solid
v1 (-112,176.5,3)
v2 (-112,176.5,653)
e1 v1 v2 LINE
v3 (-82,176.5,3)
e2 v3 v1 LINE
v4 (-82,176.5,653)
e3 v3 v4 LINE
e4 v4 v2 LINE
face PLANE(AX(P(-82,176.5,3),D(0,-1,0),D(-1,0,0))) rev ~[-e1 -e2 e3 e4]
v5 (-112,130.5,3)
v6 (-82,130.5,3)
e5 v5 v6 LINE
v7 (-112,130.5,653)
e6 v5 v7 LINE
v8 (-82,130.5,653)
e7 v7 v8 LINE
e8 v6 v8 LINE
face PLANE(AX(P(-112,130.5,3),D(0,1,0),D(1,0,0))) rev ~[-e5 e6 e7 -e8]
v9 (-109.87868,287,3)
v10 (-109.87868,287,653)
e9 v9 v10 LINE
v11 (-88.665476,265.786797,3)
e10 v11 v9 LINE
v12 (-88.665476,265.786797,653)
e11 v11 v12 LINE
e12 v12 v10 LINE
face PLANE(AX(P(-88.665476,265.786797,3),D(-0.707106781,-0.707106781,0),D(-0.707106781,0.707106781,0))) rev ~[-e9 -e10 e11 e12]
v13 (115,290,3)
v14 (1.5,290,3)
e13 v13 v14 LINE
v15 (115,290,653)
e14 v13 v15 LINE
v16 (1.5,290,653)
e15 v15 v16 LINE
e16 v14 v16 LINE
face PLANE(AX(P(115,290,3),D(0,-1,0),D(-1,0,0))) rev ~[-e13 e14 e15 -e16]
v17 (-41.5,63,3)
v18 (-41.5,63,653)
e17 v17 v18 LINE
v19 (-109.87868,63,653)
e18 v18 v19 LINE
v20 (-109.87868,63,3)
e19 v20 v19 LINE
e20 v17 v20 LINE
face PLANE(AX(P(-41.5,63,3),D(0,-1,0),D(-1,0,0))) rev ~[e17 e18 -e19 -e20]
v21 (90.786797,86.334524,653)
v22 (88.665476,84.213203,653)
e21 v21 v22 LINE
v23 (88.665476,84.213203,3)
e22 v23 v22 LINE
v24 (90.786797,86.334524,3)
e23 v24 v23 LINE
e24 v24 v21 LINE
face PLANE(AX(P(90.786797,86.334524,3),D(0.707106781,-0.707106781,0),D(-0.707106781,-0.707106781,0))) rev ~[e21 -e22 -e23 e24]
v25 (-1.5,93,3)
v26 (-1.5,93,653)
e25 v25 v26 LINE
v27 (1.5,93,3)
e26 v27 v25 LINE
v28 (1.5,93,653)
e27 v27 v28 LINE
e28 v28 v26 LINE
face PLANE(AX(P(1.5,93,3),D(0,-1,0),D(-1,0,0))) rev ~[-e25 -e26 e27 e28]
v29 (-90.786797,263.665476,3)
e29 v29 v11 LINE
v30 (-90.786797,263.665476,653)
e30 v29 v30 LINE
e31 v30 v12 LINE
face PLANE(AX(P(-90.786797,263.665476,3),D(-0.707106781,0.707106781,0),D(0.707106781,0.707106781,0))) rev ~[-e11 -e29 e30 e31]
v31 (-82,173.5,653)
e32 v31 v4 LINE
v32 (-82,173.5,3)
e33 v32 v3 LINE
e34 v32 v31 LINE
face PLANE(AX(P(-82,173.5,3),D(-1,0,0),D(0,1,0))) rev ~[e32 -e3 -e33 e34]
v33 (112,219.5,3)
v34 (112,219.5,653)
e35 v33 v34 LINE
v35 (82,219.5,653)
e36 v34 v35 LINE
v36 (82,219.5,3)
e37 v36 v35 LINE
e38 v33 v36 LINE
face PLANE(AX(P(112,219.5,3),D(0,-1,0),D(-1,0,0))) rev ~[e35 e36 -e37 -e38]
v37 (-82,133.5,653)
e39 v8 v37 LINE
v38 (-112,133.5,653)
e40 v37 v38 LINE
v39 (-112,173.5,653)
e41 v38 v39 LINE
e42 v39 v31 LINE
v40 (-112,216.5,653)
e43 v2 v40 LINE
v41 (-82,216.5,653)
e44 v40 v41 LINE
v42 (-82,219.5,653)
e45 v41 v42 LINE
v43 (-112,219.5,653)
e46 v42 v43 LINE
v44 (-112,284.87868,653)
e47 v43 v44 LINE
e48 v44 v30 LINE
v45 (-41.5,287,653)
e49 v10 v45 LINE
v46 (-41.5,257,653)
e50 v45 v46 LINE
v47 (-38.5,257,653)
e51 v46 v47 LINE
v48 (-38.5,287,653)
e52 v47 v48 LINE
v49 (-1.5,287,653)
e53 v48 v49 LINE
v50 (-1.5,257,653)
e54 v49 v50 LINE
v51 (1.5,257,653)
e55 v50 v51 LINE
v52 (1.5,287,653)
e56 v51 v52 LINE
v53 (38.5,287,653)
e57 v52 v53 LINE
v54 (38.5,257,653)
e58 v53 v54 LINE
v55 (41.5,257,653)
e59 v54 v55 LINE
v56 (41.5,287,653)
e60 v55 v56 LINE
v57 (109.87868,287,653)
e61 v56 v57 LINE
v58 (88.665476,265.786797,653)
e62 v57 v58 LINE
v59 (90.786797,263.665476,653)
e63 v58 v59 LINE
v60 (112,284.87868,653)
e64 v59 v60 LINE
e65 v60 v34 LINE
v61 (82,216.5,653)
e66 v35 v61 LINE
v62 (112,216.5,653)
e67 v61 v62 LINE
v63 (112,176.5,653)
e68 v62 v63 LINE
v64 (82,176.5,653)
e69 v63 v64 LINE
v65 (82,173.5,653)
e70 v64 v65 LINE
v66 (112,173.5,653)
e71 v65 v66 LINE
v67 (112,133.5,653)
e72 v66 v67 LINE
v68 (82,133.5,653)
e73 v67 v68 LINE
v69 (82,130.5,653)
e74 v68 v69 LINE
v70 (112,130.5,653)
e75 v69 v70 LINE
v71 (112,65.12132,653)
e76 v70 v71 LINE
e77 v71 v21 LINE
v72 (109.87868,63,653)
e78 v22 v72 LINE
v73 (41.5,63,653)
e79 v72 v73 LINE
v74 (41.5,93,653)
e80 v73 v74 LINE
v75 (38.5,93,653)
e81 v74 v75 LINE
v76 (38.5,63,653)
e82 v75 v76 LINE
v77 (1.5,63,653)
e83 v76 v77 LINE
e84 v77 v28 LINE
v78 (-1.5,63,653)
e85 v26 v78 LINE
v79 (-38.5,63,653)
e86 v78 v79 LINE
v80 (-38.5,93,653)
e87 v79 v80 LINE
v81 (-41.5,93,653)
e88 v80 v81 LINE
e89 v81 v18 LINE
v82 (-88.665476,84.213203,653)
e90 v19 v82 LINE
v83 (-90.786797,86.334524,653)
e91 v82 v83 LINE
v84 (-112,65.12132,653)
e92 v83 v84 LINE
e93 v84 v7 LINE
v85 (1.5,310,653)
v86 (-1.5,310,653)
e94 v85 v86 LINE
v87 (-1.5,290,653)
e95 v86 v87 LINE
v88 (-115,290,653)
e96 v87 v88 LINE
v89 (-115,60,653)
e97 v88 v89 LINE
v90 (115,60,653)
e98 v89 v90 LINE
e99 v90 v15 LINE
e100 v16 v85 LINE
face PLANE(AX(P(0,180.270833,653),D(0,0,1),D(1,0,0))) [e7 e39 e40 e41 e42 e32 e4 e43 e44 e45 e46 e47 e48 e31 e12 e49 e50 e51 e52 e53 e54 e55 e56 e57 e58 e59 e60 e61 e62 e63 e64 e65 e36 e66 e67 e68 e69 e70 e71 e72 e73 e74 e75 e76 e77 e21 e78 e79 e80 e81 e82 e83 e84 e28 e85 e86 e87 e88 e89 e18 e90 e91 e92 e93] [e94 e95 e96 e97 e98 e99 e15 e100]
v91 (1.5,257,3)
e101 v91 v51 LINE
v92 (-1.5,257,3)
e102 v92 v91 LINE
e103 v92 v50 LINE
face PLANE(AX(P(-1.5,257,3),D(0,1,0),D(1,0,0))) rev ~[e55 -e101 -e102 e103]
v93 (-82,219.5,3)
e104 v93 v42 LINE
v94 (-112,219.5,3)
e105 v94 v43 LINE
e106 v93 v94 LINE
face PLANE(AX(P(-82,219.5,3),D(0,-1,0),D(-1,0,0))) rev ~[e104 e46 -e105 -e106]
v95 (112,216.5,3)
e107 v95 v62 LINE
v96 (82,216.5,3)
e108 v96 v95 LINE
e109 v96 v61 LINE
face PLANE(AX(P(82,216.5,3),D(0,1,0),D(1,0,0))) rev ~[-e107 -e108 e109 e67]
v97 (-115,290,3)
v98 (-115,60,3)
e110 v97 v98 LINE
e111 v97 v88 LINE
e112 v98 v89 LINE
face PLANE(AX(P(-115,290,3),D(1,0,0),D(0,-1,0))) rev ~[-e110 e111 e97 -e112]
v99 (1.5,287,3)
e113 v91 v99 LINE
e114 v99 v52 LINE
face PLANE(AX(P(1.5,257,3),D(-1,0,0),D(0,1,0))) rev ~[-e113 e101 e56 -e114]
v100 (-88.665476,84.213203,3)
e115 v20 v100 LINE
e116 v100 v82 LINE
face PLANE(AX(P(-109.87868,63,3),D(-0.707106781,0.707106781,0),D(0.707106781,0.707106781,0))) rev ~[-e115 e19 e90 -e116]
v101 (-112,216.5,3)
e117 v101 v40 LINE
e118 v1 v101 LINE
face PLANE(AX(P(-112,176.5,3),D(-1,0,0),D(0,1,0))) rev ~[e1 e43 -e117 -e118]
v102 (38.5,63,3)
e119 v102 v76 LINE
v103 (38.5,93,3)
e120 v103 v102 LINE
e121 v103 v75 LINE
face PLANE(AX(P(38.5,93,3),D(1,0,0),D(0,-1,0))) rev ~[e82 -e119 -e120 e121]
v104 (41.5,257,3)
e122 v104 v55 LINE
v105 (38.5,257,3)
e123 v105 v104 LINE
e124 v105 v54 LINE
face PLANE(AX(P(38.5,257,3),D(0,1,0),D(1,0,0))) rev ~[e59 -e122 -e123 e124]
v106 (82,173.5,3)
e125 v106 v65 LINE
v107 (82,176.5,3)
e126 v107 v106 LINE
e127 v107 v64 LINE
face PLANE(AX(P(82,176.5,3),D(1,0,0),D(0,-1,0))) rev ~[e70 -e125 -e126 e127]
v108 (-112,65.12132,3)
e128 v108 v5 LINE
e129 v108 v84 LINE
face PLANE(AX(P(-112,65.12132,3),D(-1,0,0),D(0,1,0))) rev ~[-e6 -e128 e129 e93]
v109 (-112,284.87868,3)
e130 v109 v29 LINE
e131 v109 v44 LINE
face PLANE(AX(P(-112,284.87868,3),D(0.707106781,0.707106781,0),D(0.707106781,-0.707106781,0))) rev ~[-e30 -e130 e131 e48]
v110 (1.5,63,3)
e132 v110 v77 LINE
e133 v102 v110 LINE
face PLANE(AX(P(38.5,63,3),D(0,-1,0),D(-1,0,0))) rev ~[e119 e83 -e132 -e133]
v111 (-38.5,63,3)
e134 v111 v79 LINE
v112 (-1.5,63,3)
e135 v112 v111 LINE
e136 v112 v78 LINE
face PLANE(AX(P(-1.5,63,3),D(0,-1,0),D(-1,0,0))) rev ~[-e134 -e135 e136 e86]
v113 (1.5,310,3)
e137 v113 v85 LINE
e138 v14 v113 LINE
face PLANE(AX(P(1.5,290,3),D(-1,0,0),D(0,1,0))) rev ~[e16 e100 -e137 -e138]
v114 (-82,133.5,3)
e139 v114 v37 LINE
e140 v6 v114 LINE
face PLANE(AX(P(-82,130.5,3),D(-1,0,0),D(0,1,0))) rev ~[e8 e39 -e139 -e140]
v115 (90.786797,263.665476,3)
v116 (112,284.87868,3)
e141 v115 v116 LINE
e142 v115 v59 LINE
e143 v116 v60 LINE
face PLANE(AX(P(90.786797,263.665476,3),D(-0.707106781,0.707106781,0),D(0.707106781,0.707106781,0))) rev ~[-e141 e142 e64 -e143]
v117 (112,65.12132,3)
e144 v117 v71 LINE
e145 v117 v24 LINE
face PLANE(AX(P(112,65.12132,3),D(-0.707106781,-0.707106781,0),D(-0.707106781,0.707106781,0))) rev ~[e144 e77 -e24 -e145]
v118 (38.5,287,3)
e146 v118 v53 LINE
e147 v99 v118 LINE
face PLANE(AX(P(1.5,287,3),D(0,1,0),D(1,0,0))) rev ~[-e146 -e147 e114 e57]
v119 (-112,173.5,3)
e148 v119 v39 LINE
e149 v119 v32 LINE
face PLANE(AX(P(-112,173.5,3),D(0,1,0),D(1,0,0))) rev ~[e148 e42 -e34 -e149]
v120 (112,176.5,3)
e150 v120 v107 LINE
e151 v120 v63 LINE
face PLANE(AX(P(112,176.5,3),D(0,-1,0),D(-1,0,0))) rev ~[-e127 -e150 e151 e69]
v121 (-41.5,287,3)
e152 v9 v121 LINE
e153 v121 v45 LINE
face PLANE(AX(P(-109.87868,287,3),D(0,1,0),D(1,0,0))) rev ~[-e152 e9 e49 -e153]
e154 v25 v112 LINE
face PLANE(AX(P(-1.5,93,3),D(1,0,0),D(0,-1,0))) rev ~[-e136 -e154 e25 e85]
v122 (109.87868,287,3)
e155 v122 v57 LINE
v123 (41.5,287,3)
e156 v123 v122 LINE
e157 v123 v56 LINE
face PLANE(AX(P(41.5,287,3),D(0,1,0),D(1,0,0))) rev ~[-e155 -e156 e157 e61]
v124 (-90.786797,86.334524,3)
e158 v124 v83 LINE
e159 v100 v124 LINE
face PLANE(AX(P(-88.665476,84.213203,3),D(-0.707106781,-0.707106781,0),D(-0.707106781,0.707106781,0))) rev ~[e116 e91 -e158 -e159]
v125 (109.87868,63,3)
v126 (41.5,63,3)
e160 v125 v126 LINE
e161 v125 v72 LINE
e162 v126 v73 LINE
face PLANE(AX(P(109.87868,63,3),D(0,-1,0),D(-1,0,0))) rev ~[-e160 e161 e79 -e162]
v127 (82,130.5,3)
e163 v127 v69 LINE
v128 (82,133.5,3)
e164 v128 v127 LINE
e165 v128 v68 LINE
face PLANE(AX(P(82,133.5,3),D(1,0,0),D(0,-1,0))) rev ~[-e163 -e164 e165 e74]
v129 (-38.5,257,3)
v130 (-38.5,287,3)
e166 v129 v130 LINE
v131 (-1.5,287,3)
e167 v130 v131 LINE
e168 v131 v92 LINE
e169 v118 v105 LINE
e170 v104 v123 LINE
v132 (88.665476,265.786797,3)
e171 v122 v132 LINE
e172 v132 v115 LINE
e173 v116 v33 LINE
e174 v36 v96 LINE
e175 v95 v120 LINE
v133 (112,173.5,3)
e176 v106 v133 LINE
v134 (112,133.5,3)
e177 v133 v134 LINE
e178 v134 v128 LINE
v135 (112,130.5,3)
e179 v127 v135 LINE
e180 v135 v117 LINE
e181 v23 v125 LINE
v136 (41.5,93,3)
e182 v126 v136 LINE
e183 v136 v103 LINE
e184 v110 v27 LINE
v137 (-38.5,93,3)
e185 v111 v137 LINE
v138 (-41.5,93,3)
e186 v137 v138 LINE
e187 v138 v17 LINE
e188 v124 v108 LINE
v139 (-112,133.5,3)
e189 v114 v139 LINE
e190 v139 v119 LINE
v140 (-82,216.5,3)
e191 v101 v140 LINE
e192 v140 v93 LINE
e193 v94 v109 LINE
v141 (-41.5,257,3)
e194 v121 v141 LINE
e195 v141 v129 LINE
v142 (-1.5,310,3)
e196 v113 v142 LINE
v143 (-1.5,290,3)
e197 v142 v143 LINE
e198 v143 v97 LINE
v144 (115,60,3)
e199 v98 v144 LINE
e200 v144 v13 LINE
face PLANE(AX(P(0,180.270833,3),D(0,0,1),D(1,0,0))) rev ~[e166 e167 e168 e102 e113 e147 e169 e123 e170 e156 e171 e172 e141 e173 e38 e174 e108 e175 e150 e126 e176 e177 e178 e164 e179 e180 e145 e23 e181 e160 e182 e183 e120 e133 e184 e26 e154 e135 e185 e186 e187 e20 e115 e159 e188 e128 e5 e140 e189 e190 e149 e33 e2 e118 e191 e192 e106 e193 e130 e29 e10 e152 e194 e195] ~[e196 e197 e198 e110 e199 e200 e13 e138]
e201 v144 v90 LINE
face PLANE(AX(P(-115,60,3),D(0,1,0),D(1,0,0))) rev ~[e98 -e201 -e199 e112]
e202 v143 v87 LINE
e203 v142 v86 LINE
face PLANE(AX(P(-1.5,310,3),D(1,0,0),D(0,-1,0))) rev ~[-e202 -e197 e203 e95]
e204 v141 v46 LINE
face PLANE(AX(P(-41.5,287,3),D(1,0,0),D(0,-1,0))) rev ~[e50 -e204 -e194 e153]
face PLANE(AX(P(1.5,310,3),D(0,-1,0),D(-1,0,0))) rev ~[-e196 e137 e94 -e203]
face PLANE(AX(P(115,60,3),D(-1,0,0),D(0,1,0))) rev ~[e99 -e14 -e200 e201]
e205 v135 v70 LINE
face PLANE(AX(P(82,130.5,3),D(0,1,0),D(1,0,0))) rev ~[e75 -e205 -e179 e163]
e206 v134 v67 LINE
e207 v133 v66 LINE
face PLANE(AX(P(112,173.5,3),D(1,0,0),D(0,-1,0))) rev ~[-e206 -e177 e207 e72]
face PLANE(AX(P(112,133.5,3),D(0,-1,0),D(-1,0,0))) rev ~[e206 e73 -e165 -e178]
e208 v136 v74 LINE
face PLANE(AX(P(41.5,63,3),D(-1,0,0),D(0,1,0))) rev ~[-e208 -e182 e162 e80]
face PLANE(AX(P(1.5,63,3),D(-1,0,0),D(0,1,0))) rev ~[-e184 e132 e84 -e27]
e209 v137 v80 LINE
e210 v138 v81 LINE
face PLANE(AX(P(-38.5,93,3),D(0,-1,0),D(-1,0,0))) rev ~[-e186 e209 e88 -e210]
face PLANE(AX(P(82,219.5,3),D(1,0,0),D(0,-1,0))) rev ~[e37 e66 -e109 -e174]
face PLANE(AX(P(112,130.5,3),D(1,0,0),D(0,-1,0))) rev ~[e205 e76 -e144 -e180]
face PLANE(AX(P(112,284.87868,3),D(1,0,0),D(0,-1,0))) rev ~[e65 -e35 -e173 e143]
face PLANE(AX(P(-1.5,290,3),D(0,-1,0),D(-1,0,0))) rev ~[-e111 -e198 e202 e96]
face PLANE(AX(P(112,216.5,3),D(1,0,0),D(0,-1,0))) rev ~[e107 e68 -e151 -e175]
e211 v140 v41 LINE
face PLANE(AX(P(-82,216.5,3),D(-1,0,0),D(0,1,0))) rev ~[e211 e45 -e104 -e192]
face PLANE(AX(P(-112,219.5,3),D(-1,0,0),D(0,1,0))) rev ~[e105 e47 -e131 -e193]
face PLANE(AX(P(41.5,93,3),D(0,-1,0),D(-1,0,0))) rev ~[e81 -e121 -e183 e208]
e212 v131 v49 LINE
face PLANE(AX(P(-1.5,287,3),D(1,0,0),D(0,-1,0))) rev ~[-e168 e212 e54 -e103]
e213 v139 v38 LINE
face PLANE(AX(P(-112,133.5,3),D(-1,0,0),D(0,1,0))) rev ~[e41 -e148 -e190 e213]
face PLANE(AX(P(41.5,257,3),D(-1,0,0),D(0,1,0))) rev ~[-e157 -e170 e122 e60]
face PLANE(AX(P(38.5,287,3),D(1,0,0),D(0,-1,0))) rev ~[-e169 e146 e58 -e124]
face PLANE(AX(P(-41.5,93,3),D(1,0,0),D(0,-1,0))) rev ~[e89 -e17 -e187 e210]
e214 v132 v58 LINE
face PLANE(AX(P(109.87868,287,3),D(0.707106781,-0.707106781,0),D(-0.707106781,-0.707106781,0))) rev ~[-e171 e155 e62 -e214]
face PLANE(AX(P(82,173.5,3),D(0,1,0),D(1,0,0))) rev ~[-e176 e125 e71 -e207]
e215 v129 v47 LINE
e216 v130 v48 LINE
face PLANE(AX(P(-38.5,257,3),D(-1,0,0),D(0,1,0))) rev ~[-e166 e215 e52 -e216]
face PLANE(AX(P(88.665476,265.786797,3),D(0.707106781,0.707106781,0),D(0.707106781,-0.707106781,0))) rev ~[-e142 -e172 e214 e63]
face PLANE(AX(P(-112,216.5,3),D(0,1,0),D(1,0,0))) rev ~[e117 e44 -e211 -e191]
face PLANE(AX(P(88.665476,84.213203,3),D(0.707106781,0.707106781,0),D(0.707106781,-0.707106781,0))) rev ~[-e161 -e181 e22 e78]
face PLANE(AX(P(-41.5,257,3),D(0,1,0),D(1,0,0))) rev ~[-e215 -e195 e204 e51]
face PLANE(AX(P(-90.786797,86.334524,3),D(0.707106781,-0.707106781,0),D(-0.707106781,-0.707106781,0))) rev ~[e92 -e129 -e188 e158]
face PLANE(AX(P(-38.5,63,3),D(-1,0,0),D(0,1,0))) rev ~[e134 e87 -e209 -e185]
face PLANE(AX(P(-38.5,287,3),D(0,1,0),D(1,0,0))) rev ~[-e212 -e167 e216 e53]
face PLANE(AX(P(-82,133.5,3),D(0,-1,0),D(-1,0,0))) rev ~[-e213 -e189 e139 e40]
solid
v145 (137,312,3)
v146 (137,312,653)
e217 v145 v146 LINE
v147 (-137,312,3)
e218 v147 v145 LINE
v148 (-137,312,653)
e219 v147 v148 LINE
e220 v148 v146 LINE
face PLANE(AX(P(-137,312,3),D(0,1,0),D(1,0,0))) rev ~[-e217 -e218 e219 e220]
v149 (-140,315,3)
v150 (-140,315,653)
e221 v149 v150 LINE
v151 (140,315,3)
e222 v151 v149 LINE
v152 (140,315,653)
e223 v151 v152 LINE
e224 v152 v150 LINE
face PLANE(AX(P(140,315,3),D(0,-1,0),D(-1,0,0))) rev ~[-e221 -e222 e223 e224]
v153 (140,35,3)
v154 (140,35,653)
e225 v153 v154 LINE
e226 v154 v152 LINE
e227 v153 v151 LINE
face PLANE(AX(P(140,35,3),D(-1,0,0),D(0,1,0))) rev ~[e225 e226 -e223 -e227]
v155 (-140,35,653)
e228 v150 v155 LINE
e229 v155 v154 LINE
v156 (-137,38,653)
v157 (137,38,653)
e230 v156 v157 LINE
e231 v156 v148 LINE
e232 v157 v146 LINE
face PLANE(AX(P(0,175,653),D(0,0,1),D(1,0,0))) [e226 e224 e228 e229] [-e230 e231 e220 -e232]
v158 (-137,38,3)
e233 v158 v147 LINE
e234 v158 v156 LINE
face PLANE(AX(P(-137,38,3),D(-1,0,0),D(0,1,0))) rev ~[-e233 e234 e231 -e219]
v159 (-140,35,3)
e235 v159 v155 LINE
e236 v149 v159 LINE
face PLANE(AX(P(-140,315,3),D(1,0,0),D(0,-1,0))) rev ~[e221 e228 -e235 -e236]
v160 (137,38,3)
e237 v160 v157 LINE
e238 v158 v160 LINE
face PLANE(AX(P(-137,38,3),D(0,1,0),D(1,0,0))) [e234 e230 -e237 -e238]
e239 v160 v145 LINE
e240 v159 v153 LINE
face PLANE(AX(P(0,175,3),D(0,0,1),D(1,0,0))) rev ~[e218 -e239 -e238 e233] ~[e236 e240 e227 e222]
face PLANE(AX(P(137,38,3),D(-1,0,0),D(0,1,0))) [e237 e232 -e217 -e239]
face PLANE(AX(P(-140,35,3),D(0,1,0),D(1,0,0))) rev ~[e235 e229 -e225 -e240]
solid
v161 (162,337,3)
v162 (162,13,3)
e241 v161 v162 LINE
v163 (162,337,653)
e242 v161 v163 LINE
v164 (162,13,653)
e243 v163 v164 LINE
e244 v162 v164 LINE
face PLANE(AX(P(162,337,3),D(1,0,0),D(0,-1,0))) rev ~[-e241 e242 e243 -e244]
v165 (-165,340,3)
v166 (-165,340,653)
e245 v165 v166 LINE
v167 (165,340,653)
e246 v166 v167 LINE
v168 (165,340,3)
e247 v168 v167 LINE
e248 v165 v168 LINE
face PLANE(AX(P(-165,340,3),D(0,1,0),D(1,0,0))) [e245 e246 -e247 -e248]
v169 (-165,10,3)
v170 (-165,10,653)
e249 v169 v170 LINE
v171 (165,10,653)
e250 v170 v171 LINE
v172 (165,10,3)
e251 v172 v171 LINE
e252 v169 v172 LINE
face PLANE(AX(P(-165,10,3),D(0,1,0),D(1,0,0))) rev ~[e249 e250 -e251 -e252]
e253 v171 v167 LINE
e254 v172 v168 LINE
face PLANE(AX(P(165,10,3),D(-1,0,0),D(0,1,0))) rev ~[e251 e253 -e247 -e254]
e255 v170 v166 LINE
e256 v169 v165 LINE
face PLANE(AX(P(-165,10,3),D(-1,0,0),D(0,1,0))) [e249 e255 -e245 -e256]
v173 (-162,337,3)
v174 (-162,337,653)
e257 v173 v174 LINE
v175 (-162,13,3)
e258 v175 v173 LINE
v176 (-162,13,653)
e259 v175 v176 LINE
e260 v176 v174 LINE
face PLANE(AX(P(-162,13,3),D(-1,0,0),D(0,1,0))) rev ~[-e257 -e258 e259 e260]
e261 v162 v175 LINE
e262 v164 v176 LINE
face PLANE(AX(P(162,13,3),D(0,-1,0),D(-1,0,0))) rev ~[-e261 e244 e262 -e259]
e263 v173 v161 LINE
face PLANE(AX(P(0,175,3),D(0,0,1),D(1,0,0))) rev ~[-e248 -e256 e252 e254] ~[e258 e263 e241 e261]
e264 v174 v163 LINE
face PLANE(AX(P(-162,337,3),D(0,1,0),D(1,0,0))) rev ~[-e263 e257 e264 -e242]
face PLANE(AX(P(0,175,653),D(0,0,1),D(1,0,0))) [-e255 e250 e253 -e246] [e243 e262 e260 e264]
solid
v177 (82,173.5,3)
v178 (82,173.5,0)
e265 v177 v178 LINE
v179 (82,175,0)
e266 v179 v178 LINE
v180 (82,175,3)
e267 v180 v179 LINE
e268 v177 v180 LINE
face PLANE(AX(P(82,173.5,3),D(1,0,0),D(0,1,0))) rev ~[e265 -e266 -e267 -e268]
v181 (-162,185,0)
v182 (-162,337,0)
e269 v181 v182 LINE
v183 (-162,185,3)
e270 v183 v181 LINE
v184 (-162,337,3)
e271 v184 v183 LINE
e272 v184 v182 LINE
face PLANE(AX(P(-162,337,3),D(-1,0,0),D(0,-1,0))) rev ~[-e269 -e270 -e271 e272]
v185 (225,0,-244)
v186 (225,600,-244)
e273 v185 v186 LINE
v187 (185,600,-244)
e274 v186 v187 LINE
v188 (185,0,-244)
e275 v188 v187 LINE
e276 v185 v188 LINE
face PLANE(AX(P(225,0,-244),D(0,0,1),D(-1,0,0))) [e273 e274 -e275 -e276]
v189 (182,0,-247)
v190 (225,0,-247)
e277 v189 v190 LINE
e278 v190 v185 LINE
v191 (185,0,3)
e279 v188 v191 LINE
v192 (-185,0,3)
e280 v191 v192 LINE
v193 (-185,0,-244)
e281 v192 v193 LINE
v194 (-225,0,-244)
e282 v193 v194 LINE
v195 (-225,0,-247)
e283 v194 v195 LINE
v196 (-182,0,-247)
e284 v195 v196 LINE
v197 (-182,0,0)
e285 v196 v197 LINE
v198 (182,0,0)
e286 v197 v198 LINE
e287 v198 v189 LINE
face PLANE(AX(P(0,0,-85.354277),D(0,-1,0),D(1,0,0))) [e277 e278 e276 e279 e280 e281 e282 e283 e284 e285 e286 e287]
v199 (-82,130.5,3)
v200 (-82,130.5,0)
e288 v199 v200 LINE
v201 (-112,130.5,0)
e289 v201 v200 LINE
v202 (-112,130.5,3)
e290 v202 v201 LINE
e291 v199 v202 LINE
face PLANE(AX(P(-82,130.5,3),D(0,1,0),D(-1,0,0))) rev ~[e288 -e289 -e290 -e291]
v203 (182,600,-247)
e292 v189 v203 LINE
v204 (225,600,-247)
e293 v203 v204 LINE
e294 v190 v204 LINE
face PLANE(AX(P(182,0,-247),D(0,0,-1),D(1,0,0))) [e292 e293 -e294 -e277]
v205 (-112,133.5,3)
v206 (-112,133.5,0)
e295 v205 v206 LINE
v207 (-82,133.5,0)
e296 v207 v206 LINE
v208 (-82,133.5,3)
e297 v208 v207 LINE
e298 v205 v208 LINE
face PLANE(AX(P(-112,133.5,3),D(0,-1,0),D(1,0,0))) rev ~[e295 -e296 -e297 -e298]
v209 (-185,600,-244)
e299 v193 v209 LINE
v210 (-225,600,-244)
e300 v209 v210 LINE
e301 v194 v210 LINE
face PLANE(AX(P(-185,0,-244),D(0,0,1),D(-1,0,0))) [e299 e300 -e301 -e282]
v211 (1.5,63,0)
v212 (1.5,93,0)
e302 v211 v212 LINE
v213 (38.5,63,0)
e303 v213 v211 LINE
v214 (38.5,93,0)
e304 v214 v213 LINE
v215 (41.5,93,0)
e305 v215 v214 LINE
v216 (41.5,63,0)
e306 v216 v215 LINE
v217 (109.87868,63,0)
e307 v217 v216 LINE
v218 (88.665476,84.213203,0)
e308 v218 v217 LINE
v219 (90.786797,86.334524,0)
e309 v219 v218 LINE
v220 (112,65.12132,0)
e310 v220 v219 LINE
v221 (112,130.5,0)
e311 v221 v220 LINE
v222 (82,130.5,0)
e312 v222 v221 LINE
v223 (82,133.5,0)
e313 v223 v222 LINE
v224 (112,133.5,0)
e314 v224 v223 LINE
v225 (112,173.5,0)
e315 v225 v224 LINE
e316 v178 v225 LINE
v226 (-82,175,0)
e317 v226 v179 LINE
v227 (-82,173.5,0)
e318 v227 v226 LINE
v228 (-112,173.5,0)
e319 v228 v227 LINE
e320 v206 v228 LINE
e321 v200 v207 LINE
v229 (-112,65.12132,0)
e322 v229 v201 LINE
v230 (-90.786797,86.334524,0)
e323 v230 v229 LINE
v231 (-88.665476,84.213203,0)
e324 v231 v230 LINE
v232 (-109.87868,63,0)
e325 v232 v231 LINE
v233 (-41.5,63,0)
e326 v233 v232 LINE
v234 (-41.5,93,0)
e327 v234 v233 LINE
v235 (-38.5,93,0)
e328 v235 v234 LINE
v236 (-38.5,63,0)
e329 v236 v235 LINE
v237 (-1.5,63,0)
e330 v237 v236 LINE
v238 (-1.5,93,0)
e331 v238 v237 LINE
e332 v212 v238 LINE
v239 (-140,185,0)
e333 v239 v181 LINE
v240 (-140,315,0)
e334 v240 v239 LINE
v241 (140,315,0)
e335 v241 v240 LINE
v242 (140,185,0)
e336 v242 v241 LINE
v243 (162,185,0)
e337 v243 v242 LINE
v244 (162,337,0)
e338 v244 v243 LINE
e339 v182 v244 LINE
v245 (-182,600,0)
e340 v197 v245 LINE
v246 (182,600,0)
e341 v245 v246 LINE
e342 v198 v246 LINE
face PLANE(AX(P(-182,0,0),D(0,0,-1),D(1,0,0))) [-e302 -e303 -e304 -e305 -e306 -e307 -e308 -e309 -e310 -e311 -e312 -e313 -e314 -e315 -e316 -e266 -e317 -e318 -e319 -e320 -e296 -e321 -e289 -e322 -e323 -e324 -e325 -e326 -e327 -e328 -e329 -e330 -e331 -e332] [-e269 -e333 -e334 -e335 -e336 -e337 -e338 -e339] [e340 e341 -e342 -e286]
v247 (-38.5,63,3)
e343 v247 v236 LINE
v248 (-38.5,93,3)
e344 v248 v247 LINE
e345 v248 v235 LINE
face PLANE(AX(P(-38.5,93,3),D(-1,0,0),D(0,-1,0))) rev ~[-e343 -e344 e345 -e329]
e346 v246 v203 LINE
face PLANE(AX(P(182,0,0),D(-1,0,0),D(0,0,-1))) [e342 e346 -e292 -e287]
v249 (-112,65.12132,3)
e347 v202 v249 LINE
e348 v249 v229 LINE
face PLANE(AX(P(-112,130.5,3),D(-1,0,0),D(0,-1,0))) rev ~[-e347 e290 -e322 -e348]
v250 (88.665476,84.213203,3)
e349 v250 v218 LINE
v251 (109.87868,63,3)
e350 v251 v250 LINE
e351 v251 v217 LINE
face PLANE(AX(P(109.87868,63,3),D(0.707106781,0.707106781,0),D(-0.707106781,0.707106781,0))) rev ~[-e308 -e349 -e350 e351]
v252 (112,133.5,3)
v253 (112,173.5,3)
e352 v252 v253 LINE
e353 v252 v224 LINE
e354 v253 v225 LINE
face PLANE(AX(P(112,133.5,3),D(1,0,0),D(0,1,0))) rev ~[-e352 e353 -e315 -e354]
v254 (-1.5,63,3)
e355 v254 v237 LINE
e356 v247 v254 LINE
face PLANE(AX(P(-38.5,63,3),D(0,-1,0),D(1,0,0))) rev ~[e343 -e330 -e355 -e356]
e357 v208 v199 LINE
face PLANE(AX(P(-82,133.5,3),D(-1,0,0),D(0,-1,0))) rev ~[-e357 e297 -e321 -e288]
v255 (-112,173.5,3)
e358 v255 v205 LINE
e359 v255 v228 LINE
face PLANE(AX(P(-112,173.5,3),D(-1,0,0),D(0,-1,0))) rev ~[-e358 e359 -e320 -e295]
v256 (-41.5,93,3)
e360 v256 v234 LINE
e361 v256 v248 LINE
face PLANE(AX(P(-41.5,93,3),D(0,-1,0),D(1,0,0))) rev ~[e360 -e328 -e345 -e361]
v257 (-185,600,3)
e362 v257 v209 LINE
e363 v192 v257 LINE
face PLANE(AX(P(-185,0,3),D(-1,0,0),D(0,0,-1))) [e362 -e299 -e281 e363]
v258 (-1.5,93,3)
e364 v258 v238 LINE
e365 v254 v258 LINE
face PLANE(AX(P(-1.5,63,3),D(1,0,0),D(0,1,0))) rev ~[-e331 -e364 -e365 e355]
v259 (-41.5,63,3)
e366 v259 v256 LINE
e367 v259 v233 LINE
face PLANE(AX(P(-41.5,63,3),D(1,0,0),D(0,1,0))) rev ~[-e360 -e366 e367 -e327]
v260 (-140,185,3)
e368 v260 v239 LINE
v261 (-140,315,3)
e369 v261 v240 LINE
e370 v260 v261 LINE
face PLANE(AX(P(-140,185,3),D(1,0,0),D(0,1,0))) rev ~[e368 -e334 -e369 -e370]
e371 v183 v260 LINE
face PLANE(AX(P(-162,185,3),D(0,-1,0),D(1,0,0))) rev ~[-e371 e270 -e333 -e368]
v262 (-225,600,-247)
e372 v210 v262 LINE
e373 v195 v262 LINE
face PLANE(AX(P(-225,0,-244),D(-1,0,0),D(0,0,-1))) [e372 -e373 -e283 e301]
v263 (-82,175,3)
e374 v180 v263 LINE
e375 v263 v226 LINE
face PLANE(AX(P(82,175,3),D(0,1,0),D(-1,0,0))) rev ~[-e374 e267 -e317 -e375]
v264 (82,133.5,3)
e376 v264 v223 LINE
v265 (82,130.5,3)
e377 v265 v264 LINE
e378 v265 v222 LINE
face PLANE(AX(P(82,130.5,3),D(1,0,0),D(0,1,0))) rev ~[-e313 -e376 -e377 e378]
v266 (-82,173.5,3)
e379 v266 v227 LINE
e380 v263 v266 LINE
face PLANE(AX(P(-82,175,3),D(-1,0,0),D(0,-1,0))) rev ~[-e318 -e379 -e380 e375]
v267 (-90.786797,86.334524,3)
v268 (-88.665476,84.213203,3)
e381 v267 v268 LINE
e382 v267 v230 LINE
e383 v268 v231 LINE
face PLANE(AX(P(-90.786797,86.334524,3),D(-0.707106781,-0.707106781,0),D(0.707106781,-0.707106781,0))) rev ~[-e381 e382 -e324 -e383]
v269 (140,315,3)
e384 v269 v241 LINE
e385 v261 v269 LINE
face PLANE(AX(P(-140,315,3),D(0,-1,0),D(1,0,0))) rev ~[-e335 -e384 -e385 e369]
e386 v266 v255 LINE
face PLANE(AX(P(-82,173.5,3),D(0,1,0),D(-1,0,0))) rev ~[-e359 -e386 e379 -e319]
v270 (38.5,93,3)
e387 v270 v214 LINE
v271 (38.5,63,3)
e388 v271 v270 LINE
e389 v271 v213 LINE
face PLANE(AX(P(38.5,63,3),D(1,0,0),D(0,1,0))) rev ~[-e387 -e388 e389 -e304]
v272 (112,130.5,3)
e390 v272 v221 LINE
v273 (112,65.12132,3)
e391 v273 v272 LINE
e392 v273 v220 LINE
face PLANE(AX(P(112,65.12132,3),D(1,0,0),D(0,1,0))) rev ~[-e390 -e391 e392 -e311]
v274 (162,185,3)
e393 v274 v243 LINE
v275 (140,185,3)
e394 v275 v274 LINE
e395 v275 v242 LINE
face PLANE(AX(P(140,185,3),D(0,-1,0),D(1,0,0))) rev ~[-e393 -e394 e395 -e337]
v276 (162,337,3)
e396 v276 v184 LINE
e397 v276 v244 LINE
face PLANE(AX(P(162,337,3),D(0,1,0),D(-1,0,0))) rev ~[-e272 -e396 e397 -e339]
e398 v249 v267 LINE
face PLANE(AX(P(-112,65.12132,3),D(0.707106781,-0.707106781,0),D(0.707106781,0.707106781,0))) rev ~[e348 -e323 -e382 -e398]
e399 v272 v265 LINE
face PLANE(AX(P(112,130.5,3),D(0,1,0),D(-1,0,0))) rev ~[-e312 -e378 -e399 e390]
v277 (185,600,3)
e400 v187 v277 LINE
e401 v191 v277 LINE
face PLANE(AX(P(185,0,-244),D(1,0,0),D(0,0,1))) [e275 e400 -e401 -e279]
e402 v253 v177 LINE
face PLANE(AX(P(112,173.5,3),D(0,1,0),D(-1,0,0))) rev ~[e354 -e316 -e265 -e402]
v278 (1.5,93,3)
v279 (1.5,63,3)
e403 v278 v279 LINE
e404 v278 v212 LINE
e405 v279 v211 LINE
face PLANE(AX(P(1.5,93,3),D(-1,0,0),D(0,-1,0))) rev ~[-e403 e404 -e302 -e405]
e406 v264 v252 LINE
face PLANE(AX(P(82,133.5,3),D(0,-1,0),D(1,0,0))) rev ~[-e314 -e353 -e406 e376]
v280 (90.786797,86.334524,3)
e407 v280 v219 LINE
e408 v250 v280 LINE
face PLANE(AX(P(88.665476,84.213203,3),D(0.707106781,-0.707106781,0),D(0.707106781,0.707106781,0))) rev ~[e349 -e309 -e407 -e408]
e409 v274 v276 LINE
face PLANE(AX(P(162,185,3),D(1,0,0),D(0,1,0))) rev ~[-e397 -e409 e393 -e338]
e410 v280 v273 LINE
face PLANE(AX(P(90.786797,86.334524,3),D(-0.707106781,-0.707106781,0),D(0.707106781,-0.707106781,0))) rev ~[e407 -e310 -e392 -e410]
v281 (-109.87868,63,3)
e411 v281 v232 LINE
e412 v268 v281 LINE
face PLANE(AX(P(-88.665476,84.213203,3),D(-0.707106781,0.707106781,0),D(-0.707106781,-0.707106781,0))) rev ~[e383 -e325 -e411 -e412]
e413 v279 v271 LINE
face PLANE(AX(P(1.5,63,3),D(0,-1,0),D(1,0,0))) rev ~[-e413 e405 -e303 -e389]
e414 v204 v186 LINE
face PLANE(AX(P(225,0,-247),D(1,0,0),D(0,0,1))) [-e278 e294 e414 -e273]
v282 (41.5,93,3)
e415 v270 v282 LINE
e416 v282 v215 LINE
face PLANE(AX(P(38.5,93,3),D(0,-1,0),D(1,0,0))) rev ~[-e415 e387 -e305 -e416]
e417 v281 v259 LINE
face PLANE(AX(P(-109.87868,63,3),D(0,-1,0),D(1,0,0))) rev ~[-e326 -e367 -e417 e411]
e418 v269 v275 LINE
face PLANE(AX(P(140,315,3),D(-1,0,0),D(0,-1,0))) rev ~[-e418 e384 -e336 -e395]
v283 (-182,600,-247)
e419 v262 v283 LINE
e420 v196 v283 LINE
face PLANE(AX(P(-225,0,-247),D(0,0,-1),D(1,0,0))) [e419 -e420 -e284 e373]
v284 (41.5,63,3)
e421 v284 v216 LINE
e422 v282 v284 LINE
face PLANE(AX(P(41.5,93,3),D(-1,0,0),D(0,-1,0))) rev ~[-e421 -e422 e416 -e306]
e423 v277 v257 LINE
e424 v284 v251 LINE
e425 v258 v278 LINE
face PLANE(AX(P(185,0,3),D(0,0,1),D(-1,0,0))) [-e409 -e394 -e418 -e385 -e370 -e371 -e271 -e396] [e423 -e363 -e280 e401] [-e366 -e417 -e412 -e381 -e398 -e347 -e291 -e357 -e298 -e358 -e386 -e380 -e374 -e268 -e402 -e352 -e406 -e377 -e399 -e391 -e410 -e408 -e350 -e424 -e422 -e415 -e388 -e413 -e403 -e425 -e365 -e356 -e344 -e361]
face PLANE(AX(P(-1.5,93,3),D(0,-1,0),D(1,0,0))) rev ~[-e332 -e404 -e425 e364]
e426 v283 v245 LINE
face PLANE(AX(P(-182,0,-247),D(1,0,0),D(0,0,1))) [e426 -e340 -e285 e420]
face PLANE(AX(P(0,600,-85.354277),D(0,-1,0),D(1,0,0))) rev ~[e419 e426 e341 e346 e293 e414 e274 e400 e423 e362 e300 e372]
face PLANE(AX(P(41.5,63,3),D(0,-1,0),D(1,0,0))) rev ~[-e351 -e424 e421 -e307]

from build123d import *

# Parameters (mm, degrees)
F3_DEPTH = 600
F5_DEPTH = 250.001
F6_DEPTH = 650
F4_W     = 274
F4_H     = 274
F7_DEPTH = 650
F4_W_2   = 330
F4_H_2   = 330
F8_DEPTH = 650


with BuildPart() as f3:
    # F2 (on Front) → F3 (new body)
    with BuildSketch(Plane.XZ):
        Polygon((-182, -247), (-182, 0), (182, 0), (182, -247), (225, -247), (225, -244), (185, -244), (185, 3), (-185, 3), (-185, -244), (-225, -244), (-225, -247), align=None)
    extrude(amount=-F3_DEPTH)

    # F4 (on face) → F5 (cut, through all)
    with BuildSketch(Plane.XY.offset(3)):
        Polygon((140, 315), (140, 185), (162, 185), (162, 337), (-162, 337), (-162, 185), (-140, 185), (-140, 315), align=None)
        Polygon((90.7867965644, 86.3345237792), (112, 65.1213203436), (112, 130.5), (82, 130.5), (82, 133.5), (112, 133.5), (112, 173.5), (82, 173.5), (82, 175), (-82, 175), (-82, 173.5), (-112, 173.5), (-112, 133.5), (-82, 133.5), (-82, 130.5), (-112, 130.5), (-112, 65.1213203436), (-90.7867965644, 86.3345237792), (-88.6654762208, 84.2132034356), (-109.8786796564, 63), (-41.5, 63), (-41.5, 93), (-38.5, 93), (-38.5, 63), (-1.5, 63), (-1.5, 93), (1.5, 93), (1.5, 63), (38.5, 63), (38.5, 93), (41.5, 93), (41.5, 63), (109.8786796564, 63), (88.6654762208, 84.2132034356), align=None)
    extrude(amount=-F5_DEPTH, mode=Mode.SUBTRACT)


with BuildPart() as f6:
    # F4 (on face) → F6 (new body)
    with BuildSketch(Plane.XY.offset(3)):
        Polygon((-115, 60), (115, 60), (115, 290), (1.5, 290), (1.5, 310), (-1.5, 310), (-1.5, 290), (-115, 290), align=None)
        Polygon((112, 130.5), (112, 65.1213203436), (90.7867965644, 86.3345237792), (88.6654762208, 84.2132034356), (109.8786796564, 63), (41.5, 63), (41.5, 93), (38.5, 93), (38.5, 63), (1.5, 63), (1.5, 93), (-1.5, 93), (-1.5, 63), (-38.5, 63), (-38.5, 93), (-41.5, 93), (-41.5, 63), (-109.8786796564, 63), (-88.6654762208, 84.2132034356), (-90.7867965644, 86.3345237792), (-112, 65.1213203436), (-112, 130.5), (-82, 130.5), (-82, 133.5), (-112, 133.5), (-112, 173.5), (-82, 173.5), (-82, 175), (-82, 176.5), (-112, 176.5), (-112, 216.5), (-82, 216.5), (-82, 219.5), (-112, 219.5), (-112, 284.8786796564), (-90.7867965644, 263.6654762208), (-88.6654762208, 265.7867965644), (-109.8786796564, 287), (-41.5, 287), (-41.5, 257), (-38.5, 257), (-38.5, 287), (-1.5, 287), (-1.5, 257), (1.5, 257), (1.5, 287), (38.5, 287), (38.5, 257), (41.5, 257), (41.5, 287), (109.8786796564, 287), (88.6654762208, 265.7867965644), (90.7867965644, 263.6654762208), (112, 284.8786796564), (112, 219.5), (82, 219.5), (82, 216.5), (112, 216.5), (112, 176.5), (82, 176.5), (82, 175), (82, 173.5), (112, 173.5), (112, 133.5), (82, 133.5), (82, 130.5), align=None, mode=Mode.SUBTRACT)
    extrude(amount=F6_DEPTH)


with BuildPart() as f7:
    # F4 (on face) → F7 (new body)
    with BuildSketch(Plane.XY.offset(3)):
        Polygon((-140, 35), (140, 35), (140, 185), (140, 315), (-140, 315), (-140, 185), align=None)
        with Locations((0, 175)):
            Rectangle(F4_W, F4_H, mode=Mode.SUBTRACT)
    extrude(amount=F7_DEPTH)


with BuildPart() as f8:
    # F4 (on face) → F8 (new body)
    with BuildSketch(Plane.XY.offset(3)):
        with Locations((0, 175)):
            Rectangle(F4_W_2, F4_H_2)
        Polygon((162, 337), (162, 185), (162, 13), (-162, 13), (-162, 185), (-162, 337), align=None, mode=Mode.SUBTRACT)
    extrude(amount=F8_DEPTH)


solid = Compound([f3.part, f6.part, f7.part, f8.part])
